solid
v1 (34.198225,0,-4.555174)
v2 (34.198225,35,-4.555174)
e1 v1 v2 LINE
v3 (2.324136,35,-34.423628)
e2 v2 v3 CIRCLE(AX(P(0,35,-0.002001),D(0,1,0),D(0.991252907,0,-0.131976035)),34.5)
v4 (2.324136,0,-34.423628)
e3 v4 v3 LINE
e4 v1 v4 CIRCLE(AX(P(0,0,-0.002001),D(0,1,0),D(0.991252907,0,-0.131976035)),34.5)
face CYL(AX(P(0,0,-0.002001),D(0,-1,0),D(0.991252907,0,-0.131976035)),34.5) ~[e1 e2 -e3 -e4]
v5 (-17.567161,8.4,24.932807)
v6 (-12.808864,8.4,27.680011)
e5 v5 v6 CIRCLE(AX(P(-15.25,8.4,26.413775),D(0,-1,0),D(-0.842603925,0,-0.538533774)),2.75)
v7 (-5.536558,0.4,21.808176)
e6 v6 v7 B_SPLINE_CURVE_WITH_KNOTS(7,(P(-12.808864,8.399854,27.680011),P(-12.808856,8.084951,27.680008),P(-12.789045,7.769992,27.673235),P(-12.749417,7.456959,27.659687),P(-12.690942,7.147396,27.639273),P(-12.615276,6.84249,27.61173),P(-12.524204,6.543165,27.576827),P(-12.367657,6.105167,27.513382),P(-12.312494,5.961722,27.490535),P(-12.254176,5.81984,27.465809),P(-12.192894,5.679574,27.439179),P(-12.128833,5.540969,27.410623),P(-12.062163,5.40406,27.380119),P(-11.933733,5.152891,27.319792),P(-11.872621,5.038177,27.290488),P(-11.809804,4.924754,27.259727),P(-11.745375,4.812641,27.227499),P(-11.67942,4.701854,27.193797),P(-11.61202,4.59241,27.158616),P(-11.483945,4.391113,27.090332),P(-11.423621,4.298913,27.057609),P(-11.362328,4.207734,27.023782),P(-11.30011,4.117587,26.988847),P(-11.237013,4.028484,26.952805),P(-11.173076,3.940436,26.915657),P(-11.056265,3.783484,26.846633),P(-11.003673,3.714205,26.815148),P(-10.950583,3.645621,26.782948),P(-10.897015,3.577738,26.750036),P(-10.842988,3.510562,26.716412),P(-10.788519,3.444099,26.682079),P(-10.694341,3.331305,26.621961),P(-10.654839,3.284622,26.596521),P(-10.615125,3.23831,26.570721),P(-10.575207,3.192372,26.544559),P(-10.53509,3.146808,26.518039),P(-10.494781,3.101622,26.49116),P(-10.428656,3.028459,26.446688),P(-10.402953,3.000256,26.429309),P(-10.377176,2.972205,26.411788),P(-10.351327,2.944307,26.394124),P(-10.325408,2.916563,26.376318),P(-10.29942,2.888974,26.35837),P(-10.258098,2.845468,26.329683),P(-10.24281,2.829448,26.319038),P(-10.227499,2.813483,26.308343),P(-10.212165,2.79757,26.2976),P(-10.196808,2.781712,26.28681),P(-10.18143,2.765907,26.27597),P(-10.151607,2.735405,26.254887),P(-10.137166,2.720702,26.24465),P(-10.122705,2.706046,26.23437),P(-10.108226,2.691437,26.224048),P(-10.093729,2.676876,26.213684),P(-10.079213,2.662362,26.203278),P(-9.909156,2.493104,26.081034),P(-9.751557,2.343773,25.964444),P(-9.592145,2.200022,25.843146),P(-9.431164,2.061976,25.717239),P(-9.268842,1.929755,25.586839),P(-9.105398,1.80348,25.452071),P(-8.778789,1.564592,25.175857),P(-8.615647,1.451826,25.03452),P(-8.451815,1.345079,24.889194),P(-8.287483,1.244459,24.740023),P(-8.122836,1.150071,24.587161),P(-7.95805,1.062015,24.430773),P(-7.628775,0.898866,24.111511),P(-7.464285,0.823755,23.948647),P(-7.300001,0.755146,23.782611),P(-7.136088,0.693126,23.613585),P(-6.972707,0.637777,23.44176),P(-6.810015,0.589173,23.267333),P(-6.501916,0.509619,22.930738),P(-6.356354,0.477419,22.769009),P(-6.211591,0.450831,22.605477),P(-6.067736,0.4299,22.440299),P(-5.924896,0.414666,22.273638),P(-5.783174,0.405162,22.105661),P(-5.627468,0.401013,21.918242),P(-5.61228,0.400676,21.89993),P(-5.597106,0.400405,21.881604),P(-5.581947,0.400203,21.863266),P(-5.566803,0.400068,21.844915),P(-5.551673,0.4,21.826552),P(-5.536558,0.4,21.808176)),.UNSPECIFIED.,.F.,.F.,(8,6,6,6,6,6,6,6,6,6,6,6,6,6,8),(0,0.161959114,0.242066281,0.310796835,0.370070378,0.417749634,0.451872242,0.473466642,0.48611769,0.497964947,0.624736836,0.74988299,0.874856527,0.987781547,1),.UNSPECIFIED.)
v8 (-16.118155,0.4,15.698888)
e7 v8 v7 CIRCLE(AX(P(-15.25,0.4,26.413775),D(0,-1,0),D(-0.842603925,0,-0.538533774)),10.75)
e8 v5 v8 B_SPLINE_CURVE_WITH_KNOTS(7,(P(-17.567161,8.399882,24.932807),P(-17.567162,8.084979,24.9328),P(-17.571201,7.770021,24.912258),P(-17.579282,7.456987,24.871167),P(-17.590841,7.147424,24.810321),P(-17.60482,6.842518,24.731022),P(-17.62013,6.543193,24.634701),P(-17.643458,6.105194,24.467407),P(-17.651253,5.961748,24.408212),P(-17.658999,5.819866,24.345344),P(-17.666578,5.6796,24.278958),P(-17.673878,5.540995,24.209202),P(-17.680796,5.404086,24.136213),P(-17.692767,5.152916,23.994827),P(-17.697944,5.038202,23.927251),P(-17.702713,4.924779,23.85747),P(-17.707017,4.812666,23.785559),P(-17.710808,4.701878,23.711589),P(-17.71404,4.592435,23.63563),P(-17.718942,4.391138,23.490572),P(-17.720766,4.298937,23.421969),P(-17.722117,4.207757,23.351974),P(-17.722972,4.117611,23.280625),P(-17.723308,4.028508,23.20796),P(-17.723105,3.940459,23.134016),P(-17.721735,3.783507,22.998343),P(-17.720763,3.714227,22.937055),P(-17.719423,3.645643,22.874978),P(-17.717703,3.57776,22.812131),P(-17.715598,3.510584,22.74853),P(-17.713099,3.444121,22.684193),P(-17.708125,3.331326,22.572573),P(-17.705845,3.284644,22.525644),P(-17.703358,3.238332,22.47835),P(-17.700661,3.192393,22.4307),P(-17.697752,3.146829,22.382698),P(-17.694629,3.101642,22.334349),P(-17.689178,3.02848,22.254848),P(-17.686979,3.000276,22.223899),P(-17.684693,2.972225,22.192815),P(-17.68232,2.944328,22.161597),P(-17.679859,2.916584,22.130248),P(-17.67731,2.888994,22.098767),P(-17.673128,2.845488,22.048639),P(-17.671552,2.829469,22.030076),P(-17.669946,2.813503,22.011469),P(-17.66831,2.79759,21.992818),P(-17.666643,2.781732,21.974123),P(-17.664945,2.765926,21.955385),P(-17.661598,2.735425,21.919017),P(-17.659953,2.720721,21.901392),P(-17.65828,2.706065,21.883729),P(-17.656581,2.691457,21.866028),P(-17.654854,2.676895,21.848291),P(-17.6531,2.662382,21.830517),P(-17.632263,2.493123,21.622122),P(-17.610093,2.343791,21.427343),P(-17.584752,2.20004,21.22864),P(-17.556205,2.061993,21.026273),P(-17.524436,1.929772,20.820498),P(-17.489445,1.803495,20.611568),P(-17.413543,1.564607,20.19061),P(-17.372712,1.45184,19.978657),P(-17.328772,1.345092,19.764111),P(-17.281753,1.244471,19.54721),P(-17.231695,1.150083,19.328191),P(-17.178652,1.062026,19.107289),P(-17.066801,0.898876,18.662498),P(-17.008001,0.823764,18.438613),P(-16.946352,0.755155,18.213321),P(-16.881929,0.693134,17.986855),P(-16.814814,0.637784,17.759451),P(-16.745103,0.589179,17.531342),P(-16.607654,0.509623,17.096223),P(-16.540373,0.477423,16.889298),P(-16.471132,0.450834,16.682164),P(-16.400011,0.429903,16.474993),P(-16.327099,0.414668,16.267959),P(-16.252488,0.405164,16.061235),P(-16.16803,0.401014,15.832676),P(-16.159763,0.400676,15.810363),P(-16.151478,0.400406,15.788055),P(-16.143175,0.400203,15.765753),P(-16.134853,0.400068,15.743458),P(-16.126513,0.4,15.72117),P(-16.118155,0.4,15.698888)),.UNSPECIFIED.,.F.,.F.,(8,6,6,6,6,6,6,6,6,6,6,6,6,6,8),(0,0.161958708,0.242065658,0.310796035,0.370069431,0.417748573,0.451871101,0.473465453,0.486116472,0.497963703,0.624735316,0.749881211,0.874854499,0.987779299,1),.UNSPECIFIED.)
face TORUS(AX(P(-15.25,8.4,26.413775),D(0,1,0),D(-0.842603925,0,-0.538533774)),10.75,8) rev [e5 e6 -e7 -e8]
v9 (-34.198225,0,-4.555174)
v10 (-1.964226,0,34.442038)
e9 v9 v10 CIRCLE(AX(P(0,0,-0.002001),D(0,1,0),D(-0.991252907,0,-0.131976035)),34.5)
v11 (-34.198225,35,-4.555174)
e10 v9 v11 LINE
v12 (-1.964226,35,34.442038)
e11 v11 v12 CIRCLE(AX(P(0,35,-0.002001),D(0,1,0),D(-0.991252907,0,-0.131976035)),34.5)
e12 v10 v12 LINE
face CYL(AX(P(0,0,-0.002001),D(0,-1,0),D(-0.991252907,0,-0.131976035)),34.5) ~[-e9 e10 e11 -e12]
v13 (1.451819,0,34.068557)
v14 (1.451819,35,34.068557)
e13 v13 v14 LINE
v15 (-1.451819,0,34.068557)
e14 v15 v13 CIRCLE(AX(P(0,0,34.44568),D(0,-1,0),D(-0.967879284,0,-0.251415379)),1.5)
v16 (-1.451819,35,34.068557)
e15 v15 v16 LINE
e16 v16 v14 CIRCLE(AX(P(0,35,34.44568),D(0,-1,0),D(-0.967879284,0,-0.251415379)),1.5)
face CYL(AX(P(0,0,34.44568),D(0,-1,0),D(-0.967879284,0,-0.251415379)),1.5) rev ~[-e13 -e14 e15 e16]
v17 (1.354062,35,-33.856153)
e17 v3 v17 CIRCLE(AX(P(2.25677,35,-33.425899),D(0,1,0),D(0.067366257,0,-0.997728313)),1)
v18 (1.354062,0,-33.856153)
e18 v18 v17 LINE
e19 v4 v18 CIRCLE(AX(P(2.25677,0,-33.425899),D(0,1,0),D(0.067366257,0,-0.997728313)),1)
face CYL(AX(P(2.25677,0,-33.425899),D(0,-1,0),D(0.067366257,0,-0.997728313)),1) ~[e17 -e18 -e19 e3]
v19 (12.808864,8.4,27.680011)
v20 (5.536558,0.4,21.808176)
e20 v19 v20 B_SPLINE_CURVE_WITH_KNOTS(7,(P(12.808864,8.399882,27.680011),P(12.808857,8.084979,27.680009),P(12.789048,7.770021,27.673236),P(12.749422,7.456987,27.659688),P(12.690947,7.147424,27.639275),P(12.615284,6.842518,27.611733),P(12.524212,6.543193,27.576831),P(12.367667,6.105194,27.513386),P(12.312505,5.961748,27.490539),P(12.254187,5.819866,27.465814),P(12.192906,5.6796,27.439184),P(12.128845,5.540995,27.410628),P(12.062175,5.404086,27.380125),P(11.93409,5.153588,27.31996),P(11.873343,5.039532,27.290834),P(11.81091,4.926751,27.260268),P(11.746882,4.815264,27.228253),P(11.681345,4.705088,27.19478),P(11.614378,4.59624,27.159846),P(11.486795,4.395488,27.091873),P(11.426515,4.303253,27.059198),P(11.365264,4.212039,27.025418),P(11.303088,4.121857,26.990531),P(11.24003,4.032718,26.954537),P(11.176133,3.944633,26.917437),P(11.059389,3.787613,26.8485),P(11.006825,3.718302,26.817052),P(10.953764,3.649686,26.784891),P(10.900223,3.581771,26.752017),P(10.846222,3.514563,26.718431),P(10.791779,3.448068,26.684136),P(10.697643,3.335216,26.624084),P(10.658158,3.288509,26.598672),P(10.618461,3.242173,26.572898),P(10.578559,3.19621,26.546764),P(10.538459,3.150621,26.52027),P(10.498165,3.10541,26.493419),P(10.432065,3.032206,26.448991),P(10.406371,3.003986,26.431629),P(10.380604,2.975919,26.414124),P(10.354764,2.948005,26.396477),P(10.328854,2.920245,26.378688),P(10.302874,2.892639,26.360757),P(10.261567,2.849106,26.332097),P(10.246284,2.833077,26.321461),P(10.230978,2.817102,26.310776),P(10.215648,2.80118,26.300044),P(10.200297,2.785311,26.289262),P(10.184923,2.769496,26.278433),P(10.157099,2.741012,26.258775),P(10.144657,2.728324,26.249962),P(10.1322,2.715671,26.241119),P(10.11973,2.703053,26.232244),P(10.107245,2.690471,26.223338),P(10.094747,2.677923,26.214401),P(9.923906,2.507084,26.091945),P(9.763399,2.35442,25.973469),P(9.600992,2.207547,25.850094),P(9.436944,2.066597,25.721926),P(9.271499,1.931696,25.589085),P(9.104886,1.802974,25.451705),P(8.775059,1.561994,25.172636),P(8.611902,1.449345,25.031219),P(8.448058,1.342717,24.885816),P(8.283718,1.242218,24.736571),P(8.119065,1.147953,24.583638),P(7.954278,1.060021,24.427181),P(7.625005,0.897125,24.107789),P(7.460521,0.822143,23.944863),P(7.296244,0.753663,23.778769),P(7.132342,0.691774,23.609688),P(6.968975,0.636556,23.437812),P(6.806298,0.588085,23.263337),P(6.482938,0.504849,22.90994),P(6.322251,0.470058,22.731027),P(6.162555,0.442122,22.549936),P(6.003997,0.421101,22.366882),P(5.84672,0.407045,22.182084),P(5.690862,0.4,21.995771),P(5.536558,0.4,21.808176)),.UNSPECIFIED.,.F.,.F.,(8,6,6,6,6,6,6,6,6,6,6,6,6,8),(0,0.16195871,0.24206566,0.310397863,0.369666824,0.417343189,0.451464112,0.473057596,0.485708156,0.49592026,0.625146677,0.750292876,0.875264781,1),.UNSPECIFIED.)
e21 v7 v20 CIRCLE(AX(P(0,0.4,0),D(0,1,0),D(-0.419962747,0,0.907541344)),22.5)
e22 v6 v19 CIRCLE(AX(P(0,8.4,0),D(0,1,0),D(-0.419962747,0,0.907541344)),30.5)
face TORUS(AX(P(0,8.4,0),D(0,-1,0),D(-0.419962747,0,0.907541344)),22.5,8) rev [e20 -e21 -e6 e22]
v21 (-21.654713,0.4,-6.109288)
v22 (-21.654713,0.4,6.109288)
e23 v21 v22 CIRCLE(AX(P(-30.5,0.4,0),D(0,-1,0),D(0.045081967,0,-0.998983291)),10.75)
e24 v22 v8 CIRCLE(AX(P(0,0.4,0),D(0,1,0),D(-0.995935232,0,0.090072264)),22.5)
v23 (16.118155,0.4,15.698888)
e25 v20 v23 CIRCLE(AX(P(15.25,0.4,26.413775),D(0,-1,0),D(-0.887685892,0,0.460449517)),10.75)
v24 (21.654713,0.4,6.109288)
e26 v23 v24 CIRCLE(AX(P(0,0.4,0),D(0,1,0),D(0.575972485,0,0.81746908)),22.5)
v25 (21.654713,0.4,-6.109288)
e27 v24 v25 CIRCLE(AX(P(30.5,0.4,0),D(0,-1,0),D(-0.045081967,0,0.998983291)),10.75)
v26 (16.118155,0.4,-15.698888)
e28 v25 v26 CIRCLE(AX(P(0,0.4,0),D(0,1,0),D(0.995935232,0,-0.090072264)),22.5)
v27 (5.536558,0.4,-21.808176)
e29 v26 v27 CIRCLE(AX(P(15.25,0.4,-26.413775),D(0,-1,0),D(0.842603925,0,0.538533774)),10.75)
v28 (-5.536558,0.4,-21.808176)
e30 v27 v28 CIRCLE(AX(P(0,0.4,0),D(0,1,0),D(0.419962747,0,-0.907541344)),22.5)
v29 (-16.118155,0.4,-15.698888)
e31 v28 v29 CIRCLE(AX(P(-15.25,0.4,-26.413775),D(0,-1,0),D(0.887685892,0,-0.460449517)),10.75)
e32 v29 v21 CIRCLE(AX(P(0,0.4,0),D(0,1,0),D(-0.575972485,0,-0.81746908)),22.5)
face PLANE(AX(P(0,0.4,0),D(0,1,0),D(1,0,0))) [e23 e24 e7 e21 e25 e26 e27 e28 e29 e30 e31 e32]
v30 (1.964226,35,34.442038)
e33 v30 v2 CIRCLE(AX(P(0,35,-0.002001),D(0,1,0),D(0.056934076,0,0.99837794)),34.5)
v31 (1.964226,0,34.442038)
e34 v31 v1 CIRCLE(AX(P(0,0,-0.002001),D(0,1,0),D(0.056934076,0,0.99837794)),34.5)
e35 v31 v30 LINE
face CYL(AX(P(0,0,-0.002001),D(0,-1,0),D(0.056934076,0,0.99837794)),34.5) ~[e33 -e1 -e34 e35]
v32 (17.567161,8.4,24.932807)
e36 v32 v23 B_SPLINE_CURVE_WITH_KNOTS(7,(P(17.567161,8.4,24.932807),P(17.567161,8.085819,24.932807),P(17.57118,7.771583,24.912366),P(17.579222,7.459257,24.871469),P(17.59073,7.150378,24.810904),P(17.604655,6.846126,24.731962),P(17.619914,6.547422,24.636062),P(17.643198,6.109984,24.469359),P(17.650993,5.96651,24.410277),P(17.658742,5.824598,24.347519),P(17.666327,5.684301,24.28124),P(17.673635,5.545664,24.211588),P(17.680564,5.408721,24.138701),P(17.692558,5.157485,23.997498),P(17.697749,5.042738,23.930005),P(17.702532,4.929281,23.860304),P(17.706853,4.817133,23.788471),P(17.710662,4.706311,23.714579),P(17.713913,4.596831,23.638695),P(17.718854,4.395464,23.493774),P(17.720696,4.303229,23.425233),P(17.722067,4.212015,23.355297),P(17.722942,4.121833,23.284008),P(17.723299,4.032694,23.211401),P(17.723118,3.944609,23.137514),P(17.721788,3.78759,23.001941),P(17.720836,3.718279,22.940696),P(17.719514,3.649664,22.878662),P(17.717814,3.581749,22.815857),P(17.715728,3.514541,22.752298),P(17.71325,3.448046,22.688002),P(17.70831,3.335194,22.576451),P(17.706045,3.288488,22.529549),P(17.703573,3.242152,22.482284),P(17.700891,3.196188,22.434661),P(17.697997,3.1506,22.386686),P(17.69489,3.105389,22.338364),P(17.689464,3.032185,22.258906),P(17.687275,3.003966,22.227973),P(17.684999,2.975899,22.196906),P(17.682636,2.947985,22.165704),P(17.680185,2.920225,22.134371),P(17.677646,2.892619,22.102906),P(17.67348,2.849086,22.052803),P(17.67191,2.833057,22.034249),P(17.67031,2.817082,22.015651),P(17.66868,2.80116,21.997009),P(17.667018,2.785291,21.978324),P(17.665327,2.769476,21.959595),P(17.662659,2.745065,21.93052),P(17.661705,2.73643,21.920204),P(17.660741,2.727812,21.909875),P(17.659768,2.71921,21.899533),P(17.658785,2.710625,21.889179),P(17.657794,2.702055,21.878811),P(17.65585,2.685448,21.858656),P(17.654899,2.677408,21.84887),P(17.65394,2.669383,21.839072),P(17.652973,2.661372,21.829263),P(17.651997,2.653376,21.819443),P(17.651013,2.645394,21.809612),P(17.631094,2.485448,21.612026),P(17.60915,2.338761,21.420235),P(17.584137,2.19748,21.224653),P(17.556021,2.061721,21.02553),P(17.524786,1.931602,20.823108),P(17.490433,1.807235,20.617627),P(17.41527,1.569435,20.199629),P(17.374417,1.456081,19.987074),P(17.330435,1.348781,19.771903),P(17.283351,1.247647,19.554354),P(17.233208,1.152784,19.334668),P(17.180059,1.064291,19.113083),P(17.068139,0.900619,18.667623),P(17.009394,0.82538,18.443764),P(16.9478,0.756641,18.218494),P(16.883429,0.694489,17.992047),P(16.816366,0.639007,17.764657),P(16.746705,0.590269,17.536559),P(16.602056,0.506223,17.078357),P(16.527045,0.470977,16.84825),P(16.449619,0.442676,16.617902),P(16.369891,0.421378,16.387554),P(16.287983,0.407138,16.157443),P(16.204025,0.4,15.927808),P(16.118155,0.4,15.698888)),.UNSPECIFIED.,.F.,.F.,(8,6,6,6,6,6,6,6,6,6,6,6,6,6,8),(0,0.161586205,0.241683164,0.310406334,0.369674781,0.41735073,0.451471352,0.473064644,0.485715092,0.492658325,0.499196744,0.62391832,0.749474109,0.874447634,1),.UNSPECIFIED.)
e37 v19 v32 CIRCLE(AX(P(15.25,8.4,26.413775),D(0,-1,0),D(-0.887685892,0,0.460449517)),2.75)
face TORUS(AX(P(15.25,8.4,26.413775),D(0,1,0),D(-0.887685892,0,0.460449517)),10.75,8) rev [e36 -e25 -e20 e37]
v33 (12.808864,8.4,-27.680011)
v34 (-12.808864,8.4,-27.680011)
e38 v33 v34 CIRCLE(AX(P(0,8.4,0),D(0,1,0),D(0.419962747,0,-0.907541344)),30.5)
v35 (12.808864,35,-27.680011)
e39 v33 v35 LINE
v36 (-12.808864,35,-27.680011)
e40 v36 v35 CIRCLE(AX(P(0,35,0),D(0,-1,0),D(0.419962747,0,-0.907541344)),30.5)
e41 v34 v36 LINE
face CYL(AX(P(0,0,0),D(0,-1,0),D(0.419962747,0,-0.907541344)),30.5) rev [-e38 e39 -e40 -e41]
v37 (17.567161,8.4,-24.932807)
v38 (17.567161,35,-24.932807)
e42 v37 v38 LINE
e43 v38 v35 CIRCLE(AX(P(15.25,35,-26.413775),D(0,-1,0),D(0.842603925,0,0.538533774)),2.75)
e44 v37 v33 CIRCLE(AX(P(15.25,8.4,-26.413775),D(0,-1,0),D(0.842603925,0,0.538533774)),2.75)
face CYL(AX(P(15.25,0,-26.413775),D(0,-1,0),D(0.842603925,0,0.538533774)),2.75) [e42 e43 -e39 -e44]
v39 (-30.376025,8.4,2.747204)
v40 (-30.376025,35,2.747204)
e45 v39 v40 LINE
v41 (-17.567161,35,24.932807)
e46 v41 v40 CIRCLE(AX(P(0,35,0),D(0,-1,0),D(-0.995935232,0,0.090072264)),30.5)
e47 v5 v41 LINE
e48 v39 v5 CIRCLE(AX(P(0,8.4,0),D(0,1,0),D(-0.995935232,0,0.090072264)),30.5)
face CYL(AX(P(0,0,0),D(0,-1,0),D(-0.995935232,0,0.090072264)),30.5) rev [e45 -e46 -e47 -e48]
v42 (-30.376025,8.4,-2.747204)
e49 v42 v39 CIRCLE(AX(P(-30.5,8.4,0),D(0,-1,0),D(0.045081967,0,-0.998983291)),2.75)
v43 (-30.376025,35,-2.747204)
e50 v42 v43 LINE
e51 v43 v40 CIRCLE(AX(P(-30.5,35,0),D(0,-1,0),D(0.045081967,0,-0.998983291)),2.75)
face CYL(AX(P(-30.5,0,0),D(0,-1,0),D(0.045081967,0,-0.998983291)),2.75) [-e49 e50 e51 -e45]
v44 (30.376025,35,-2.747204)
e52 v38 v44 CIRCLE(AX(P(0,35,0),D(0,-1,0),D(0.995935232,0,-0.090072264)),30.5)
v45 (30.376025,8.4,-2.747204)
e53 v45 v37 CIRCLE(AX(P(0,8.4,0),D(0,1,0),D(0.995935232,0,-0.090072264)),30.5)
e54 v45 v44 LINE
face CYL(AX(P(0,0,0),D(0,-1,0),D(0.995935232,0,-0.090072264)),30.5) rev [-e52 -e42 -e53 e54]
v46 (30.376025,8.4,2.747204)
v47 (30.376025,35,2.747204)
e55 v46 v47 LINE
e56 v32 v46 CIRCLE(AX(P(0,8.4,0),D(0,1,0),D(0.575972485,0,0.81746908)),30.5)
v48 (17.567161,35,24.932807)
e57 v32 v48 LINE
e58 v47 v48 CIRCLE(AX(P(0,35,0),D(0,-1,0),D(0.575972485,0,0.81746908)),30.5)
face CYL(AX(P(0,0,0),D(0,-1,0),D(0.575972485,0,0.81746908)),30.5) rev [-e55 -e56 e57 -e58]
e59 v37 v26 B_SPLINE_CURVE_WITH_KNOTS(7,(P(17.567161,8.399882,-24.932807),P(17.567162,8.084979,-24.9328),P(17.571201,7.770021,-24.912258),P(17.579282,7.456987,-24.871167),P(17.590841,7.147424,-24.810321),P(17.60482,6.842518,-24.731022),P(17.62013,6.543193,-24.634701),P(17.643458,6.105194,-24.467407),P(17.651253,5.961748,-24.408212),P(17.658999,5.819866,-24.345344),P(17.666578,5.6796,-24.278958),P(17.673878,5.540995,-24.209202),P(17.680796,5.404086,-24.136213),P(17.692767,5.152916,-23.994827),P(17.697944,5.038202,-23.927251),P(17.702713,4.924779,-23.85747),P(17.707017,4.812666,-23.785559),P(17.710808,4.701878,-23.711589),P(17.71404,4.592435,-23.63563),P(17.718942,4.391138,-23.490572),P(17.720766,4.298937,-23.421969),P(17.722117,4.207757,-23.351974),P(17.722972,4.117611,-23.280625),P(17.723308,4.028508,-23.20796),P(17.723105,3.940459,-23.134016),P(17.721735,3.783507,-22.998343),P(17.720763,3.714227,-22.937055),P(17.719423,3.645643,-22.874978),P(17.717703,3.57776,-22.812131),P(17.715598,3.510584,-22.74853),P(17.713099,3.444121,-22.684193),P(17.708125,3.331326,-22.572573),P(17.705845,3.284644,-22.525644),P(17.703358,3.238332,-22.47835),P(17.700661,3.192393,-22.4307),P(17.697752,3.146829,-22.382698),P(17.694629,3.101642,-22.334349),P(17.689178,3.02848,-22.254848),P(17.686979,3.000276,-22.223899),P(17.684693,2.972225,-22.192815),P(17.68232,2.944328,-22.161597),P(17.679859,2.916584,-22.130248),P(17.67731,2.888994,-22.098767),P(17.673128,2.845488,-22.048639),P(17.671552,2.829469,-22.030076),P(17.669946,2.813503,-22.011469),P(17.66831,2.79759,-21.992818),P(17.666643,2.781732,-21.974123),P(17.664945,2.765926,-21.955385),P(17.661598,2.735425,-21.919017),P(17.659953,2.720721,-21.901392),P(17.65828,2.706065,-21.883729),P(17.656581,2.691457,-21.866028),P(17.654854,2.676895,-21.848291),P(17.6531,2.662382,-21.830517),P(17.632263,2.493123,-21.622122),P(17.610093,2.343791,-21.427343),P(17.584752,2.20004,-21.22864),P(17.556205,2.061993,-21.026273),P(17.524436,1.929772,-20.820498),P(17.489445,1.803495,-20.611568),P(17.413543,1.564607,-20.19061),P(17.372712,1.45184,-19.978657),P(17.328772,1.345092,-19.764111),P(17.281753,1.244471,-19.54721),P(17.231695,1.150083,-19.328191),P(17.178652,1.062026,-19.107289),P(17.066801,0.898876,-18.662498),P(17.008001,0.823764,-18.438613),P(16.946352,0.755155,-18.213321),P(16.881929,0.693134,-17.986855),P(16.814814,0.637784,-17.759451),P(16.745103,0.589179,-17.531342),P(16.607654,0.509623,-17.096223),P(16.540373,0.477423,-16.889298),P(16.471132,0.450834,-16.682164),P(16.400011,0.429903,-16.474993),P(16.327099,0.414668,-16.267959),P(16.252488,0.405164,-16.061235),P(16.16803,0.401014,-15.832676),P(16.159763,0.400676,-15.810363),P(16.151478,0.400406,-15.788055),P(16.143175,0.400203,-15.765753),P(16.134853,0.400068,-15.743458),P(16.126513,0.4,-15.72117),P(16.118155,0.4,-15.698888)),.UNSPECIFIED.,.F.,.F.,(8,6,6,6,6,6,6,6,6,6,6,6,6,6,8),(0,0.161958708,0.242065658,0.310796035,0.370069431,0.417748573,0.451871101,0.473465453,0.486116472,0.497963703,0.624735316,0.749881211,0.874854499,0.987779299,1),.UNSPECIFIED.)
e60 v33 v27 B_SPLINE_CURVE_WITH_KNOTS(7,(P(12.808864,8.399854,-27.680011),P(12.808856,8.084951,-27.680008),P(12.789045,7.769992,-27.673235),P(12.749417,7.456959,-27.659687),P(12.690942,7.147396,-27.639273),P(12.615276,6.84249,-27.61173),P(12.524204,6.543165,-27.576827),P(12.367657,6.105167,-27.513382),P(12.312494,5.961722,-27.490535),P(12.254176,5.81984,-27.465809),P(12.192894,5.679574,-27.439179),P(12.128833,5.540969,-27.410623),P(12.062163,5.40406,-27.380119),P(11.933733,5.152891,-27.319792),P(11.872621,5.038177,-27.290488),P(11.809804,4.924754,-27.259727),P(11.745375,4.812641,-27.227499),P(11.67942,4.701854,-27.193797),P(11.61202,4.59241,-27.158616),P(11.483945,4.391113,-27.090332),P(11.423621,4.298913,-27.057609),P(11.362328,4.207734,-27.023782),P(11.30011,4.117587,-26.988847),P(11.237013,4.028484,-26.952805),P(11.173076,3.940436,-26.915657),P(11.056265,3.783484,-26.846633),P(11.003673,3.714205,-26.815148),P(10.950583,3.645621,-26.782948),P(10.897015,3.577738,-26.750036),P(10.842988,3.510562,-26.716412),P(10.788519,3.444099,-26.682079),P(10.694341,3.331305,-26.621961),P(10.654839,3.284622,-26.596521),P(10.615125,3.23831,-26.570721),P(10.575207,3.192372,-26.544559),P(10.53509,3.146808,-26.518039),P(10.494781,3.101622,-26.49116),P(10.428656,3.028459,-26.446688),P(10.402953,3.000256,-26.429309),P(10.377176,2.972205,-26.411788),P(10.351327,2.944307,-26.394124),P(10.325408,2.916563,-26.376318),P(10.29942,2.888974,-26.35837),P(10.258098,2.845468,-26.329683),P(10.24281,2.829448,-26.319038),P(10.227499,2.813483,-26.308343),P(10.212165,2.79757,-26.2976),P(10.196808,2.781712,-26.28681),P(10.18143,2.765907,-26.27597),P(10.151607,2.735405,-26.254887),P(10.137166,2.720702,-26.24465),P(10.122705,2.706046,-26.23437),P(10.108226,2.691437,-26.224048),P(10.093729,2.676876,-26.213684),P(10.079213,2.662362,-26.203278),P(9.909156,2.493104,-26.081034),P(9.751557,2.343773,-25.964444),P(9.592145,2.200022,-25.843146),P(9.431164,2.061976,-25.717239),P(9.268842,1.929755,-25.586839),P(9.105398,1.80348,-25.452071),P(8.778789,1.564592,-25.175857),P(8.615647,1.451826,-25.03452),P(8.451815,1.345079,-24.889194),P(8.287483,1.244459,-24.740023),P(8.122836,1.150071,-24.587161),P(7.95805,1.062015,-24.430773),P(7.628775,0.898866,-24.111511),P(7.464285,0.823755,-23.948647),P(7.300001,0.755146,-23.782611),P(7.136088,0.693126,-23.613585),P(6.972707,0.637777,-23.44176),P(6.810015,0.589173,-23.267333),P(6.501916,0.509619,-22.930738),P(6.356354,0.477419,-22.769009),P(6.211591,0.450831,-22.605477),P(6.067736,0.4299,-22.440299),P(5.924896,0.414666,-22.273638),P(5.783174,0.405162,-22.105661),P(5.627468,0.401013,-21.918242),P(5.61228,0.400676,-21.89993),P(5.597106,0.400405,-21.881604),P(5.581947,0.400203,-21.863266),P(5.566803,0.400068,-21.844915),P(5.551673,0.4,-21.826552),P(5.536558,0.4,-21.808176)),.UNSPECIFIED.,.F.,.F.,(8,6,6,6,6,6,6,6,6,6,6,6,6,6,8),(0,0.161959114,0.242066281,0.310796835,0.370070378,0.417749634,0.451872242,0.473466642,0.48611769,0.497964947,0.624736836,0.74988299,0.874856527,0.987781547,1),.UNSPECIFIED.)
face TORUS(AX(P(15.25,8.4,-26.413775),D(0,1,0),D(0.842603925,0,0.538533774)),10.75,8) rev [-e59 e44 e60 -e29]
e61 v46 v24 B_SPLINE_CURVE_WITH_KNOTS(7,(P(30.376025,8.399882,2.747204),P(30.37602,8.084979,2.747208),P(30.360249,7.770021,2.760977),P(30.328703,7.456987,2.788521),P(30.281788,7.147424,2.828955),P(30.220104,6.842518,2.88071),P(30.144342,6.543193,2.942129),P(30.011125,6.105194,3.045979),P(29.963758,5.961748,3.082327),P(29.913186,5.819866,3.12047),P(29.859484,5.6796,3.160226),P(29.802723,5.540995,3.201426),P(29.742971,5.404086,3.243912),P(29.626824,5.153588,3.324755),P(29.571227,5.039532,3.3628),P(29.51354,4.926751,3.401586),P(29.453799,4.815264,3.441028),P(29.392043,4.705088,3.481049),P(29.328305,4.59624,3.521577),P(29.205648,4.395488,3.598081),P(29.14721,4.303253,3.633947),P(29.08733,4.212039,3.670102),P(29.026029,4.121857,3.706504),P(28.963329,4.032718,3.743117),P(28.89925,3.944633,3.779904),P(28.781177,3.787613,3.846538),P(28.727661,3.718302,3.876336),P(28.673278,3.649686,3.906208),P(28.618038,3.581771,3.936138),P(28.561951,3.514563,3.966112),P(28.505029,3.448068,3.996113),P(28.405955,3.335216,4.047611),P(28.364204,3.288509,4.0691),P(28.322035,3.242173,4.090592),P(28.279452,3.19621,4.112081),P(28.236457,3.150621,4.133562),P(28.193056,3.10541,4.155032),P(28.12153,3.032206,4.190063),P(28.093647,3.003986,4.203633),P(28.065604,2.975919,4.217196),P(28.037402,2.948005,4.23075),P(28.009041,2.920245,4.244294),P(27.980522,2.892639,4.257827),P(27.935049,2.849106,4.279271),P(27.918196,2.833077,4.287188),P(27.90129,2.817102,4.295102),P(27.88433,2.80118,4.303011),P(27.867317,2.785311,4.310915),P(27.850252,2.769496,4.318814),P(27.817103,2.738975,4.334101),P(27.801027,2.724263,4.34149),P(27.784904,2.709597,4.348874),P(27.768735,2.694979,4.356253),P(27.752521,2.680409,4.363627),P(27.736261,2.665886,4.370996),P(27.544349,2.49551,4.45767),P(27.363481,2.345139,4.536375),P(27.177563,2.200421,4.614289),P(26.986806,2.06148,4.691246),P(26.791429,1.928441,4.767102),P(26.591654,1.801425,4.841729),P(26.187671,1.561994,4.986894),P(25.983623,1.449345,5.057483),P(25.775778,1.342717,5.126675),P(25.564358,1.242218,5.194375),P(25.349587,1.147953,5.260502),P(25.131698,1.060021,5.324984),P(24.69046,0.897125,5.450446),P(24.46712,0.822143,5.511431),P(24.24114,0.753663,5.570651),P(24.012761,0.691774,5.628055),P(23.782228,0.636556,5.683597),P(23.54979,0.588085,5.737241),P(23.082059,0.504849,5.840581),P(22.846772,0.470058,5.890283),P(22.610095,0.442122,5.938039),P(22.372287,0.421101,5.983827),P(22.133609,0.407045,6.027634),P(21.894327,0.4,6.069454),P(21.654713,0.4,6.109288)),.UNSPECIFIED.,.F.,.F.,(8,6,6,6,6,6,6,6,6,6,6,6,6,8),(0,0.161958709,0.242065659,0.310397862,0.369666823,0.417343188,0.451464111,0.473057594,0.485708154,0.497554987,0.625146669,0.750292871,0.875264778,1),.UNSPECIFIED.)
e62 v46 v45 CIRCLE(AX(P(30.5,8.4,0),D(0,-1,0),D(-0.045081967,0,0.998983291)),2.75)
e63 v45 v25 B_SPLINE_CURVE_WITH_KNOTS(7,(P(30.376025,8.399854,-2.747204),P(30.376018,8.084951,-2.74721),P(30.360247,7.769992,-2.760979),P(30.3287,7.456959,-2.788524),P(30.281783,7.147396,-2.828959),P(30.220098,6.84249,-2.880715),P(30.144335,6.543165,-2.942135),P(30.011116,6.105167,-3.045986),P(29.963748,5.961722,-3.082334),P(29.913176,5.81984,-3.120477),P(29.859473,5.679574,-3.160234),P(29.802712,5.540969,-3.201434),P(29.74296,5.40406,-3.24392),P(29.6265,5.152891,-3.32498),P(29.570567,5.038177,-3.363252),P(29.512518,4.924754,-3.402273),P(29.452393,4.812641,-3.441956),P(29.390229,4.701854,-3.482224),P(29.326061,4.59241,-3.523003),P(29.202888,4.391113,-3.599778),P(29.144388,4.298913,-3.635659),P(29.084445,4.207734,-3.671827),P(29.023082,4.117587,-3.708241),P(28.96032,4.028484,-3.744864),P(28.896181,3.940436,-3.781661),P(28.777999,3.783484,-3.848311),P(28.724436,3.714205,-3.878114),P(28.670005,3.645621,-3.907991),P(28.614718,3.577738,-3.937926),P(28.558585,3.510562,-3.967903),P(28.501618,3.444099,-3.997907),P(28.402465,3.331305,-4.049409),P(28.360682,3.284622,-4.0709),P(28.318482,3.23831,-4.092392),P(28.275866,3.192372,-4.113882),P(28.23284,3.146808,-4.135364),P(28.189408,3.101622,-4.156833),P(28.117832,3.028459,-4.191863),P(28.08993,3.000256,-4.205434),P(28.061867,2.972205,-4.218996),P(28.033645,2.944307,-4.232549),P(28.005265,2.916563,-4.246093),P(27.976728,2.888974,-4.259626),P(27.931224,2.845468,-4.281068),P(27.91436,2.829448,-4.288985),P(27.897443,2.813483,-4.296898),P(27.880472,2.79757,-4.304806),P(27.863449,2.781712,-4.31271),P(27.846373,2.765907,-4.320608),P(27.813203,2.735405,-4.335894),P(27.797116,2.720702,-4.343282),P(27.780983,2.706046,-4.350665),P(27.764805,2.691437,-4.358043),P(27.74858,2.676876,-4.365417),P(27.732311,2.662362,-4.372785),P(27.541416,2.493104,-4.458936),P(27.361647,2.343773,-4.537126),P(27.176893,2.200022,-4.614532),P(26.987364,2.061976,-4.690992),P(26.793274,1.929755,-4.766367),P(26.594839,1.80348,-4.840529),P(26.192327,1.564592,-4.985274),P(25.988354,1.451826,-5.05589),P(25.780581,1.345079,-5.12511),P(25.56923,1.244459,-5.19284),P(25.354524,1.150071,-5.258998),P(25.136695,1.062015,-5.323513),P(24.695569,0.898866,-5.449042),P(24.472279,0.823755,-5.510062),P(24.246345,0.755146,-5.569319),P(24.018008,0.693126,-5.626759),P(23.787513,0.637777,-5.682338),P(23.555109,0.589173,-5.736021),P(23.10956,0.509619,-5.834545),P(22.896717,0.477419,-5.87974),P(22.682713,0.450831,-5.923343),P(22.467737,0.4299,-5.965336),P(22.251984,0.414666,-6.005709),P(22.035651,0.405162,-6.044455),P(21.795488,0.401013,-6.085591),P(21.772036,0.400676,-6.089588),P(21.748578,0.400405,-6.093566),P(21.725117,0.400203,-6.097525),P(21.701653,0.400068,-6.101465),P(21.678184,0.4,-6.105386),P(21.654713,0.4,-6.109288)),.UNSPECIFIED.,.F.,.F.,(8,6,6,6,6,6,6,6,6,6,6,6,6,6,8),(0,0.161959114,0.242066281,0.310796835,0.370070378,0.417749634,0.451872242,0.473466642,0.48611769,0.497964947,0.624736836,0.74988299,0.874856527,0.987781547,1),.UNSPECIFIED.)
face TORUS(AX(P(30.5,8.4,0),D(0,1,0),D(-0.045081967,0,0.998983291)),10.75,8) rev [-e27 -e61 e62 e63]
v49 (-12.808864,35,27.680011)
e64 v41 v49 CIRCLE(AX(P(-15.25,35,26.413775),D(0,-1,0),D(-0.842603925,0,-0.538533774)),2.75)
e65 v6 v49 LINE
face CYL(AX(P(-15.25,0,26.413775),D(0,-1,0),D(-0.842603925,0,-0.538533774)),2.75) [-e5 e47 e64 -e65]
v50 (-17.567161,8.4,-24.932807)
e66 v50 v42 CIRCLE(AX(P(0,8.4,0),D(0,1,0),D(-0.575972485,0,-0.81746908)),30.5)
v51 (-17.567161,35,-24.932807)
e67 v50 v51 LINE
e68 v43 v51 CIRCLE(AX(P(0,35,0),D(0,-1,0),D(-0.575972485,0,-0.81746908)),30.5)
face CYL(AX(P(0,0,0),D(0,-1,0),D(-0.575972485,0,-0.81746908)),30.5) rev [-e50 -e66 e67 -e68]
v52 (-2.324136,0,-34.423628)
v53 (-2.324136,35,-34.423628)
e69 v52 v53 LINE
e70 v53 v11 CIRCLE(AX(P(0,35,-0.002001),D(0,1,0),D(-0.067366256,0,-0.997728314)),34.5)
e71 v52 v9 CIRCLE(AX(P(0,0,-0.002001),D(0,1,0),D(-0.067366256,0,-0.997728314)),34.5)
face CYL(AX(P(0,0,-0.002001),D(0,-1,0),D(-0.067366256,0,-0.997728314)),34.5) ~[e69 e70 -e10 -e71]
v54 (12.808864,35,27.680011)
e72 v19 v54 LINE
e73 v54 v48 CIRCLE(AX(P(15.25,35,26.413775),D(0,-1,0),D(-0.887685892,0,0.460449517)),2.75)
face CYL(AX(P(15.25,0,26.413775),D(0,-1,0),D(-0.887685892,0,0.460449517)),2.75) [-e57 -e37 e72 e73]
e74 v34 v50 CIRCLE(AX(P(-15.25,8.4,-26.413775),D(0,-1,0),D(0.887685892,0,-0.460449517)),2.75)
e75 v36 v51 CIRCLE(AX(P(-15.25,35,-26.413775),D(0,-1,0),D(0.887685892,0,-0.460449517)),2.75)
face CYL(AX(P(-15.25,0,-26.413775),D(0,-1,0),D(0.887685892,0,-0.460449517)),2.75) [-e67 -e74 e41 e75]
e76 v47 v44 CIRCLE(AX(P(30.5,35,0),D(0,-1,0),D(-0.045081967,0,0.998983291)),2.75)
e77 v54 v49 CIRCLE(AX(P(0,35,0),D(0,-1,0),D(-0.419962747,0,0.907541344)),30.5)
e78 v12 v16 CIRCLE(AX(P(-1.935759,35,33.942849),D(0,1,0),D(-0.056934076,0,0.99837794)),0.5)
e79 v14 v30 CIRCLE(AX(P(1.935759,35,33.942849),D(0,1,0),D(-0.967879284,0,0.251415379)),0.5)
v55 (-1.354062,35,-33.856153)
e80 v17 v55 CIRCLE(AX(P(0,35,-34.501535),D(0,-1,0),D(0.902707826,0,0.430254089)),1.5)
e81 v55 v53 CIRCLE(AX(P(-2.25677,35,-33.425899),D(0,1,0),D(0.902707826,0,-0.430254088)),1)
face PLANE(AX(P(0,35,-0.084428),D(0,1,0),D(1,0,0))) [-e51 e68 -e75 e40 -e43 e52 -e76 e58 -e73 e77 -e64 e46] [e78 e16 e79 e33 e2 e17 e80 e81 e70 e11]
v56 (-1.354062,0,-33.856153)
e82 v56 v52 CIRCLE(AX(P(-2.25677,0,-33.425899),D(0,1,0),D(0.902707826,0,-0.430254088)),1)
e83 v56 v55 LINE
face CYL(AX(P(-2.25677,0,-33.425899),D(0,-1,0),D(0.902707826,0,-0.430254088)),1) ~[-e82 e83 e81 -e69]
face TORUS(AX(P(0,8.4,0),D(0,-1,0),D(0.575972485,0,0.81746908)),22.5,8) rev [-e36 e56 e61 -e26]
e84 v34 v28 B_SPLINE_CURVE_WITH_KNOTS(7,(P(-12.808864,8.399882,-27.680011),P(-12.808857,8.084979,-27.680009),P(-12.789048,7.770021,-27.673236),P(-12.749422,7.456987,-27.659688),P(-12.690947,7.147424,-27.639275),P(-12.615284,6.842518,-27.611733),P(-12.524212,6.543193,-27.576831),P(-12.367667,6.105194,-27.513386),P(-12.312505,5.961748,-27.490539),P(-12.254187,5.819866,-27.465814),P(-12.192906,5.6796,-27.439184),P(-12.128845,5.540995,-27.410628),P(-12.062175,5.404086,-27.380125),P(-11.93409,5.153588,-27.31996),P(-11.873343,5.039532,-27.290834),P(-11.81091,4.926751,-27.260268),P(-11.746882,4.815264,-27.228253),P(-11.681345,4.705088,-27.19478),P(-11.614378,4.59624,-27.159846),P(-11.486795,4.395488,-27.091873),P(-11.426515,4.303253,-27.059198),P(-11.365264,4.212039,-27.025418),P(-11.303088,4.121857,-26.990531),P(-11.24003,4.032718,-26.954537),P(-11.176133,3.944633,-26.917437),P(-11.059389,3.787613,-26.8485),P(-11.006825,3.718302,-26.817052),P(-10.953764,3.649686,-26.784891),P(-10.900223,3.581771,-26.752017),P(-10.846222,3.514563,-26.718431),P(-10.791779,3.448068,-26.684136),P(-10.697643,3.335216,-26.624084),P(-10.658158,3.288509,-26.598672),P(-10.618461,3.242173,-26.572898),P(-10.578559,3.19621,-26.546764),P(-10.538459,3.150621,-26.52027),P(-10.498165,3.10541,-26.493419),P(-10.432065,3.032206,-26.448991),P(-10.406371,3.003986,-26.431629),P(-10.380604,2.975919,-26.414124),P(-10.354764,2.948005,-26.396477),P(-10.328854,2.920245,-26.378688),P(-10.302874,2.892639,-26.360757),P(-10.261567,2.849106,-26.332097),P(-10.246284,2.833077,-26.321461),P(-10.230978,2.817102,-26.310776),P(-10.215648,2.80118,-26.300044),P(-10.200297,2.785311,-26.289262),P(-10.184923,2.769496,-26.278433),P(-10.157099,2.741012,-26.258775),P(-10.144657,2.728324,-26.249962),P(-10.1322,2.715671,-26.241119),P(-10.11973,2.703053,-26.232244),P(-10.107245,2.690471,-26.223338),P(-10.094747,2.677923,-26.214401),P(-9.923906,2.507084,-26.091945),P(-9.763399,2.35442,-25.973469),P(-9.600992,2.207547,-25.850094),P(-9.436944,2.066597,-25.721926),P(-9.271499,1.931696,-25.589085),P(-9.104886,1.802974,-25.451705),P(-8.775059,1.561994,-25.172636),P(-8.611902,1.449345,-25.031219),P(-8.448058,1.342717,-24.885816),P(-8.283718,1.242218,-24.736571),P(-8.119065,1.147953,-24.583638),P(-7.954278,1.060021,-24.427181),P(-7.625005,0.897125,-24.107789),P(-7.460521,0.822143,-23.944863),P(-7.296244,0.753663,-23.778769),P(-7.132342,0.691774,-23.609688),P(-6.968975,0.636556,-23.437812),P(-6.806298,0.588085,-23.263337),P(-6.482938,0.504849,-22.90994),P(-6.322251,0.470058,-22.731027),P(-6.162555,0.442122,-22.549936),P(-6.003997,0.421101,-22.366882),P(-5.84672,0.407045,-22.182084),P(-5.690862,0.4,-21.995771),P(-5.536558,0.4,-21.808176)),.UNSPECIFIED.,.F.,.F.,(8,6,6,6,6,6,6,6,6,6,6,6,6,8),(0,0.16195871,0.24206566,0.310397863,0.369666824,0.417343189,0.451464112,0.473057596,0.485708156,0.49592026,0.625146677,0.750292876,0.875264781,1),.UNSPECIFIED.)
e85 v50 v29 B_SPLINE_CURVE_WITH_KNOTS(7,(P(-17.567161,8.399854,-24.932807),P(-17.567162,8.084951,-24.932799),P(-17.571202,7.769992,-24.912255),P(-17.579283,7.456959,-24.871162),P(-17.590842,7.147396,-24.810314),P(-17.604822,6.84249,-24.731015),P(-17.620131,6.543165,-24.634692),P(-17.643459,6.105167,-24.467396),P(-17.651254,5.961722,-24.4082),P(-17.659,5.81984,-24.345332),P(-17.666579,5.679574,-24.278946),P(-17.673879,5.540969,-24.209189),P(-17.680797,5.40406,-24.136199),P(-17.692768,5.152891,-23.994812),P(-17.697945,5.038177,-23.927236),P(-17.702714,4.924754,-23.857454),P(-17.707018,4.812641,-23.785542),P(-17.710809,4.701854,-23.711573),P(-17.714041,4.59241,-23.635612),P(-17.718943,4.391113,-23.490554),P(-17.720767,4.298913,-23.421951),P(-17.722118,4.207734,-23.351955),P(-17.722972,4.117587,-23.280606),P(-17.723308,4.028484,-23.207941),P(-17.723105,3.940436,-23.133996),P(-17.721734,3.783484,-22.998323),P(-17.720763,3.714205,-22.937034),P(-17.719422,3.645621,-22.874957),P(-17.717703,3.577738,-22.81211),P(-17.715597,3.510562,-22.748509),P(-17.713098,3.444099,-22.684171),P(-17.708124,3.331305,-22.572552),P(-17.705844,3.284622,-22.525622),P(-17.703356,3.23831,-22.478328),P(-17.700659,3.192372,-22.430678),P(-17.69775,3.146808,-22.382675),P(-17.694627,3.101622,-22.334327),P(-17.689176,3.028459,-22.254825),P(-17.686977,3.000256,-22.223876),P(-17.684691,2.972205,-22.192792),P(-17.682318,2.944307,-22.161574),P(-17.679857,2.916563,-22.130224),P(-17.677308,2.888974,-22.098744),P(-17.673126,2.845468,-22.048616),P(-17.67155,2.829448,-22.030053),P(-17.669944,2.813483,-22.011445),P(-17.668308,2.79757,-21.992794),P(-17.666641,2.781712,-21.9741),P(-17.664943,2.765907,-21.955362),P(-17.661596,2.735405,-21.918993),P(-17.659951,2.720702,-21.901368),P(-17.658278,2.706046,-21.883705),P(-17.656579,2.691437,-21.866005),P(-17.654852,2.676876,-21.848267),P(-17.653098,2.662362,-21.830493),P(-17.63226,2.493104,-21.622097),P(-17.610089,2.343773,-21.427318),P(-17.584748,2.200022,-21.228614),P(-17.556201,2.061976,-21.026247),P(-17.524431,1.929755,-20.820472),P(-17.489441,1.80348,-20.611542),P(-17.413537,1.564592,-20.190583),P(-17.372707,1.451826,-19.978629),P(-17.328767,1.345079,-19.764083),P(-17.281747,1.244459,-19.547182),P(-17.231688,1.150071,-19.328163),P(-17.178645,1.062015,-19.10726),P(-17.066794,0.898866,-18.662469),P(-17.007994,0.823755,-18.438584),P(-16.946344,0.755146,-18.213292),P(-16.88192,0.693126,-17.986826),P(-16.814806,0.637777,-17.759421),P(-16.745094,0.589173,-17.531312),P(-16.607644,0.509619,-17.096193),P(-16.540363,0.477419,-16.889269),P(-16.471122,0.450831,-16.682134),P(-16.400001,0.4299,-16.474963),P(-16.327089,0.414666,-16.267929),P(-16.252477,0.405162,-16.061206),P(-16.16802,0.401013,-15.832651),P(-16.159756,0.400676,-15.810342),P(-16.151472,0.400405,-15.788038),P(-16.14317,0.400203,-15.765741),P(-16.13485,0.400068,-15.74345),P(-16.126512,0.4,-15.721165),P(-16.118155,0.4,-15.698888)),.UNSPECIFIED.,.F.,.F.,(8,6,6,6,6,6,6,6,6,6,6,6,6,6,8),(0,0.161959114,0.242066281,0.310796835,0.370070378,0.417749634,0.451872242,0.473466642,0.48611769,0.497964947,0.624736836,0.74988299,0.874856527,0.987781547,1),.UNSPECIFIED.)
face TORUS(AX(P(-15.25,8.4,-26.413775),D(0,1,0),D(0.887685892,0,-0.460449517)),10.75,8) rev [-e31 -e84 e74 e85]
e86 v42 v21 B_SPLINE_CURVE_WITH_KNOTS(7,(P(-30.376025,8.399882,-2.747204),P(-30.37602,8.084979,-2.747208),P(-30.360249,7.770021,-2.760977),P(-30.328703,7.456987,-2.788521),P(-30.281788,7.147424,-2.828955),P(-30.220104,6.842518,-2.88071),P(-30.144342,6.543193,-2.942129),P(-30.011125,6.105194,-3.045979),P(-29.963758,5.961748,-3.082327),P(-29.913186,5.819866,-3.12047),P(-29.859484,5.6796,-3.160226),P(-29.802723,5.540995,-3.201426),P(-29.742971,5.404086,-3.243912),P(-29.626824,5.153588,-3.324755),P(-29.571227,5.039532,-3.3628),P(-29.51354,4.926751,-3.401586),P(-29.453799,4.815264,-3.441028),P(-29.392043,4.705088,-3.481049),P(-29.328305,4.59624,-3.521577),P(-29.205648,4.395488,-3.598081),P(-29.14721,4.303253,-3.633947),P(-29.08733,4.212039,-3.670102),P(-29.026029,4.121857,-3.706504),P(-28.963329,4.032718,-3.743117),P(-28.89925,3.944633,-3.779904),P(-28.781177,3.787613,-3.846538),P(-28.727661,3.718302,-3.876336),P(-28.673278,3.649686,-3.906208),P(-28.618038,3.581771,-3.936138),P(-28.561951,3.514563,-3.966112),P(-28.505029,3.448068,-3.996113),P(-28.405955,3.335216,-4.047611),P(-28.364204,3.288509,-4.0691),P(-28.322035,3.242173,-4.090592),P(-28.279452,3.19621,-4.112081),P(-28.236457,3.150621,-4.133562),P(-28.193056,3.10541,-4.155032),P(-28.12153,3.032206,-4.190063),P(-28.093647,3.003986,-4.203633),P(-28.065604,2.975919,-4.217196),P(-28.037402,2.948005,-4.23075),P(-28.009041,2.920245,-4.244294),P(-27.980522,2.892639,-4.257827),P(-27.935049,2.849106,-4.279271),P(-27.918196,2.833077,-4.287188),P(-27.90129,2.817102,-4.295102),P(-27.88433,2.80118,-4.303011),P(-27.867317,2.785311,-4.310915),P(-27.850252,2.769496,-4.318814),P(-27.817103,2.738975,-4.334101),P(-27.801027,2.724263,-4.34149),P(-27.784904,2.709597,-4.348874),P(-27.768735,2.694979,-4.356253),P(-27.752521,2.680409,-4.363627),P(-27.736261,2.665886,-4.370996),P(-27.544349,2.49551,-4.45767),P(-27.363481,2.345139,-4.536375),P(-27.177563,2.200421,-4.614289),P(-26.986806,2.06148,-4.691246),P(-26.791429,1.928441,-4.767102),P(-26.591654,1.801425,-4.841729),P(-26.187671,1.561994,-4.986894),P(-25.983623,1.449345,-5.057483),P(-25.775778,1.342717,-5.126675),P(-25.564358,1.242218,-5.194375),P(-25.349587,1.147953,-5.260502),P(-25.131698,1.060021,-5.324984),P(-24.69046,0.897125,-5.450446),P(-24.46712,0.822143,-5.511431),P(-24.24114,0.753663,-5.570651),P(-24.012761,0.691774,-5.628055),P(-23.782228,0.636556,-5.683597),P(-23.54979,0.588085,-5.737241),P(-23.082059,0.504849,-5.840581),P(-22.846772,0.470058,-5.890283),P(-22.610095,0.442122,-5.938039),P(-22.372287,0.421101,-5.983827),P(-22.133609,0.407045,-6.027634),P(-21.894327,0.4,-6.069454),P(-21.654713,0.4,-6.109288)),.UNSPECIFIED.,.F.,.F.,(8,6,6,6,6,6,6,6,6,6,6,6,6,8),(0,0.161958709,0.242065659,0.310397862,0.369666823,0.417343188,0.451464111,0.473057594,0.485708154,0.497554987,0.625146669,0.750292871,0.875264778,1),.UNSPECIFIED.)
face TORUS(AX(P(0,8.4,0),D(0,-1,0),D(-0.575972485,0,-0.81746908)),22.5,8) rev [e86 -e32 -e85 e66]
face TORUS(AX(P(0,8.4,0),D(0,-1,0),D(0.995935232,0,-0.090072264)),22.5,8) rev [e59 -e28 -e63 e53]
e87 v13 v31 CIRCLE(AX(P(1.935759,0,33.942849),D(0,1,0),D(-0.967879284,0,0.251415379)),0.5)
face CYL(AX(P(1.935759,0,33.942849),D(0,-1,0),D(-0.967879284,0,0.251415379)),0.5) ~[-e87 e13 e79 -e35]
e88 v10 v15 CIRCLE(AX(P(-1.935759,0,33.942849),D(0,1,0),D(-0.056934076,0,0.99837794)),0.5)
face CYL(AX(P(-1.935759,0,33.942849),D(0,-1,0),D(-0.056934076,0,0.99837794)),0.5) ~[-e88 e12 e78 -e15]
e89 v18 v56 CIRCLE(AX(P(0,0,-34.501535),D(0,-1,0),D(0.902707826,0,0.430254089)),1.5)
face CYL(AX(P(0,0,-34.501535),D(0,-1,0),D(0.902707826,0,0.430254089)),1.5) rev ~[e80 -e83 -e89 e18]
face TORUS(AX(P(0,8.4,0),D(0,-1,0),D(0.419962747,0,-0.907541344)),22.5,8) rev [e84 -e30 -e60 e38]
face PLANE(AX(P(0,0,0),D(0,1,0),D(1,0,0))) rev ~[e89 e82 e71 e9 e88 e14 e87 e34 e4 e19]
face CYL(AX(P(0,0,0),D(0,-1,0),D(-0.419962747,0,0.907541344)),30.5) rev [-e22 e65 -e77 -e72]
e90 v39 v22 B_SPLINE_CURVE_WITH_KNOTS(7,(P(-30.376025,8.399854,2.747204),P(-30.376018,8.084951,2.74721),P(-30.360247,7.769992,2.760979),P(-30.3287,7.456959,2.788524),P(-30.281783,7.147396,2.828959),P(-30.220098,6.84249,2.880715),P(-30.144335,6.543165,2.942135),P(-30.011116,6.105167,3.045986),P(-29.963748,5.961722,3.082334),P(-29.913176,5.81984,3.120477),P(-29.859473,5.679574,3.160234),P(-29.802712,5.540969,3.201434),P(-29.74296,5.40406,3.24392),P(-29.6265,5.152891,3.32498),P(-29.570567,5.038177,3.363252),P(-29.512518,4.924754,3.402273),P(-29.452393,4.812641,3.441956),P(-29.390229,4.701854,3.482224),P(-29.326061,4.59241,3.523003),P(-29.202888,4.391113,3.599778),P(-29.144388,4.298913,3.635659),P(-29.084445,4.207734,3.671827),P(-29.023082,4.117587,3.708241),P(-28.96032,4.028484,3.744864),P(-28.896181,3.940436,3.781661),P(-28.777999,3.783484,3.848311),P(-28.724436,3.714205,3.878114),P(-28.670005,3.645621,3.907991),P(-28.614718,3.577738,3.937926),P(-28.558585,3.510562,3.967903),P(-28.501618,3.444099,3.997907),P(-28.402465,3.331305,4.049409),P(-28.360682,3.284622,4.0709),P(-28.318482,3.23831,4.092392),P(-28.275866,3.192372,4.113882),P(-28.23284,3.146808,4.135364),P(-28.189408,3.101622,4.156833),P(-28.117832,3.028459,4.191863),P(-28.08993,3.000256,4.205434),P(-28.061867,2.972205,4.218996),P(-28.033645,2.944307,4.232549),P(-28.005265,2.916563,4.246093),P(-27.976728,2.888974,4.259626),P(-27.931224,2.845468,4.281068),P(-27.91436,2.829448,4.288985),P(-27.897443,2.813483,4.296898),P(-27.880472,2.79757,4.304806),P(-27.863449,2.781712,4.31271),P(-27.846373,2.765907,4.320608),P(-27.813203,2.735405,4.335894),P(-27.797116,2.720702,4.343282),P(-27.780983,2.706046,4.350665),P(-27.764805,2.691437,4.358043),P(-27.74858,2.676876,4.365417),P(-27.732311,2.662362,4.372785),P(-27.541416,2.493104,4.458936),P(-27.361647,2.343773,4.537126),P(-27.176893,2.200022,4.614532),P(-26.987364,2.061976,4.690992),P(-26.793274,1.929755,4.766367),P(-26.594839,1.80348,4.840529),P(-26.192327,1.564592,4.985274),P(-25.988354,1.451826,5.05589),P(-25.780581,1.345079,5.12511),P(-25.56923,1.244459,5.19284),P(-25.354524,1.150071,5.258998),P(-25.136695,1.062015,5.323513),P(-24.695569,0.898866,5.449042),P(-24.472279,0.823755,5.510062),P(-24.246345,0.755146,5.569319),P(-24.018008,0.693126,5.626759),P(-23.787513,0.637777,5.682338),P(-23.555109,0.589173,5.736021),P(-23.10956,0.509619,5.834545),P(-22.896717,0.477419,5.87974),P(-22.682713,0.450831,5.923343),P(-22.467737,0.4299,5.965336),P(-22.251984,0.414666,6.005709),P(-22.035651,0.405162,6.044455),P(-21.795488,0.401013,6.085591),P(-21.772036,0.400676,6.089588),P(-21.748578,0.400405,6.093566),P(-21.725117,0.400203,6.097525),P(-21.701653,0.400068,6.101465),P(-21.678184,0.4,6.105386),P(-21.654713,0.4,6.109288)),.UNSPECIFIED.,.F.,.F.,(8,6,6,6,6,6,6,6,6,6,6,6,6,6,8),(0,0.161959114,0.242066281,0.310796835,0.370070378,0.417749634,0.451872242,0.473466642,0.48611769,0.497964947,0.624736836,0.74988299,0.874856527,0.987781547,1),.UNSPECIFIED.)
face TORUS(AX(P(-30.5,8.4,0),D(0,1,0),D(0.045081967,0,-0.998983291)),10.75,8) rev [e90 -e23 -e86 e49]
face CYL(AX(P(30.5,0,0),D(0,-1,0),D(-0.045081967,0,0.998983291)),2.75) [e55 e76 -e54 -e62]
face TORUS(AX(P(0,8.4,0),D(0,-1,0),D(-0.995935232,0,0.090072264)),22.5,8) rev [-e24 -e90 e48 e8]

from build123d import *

# Parameters (mm, degrees)
BOSS_EXTRUDE1_DEPTH = 35
CUT_EXTRUDE2_DEPTH  = 36
BOSS_EXTRUDE2_DEPTH = 0.4
FILLET1_R           = 8


with BuildPart() as part:
    # Sketch1 → Boss-Extrude1 (new body)
    with BuildSketch(Plane(origin=(0, 0, 0), x_dir=(1, 0, 0), z_dir=(0, 1, 0))):
        with BuildLine():
            ThreePointArc((1.451818925, -34.068556857), (1.641248992, -34.346908706), (1.964225605, -34.442038138))
            ThreePointArc((1.964225605, -34.442038138), (26.591847487, -21.978073076), (34.198225299, 4.555174015))
            ThreePointArc((34.198225299, 4.555174015), (23.590291339, 25.176355888), (2.324135821, 34.423627607))
            ThreePointArc((2.324135821, 34.423627607), (1.751838249, 34.289058819), (1.354061739, 33.856153382))
            ThreePointArc((1.354061739, 33.856153382), (0, 33.001534515), (-1.354061739, 33.856153382))
            ThreePointArc((-1.354061739, 33.856153382), (-1.751838249, 34.289058819), (-2.324135821, 34.423627607))
            ThreePointArc((-2.324135821, 34.423627607), (-23.590291339, 25.176355888), (-34.198225299, 4.555174015))
            ThreePointArc((-34.198225299, 4.555174015), (-26.591847487, -21.978073076), (-1.964225605, -34.442038138))
            ThreePointArc((-1.964225605, -34.442038138), (-1.641248992, -34.346908706), (-1.451818925, -34.068556857))
            ThreePointArc((-1.451818925, -34.068556857), (0, -32.945679925), (1.451818925, -34.068556857))
        make_face()
        with BuildLine():
            Line((-2.417, 3.787737139), (0, 3.787737139))
            Line((0, 3.787737139), (2.417, 3.787737139))
            ThreePointArc((2.417, 3.787737139), (0, -4.489512172), (-2.417, 3.787737139))
        make_face(mode=Mode.SUBTRACT)
    extrude(amount=BOSS_EXTRUDE1_DEPTH)

    # Sketch2 → Cut-Extrude2 (cut, through all)
    with BuildSketch(Plane(origin=(0, 0, 0), x_dir=(1, 0, 0), z_dir=(0, 1, 0))):
        with BuildLine():
            ThreePointArc((-17.567160793, 24.932806936), (-26.413774815, 15.25), (-30.37602459, 2.747204051))
            ThreePointArc((-30.37602459, 2.747204051), (-27.75, 0), (-30.37602459, -2.747204051))
            ThreePointArc((-30.37602459, -2.747204051), (-26.413774815, -15.25), (-17.567160793, -24.932806936))
            ThreePointArc((-17.567160793, -24.932806936), (-13.875, -24.032204955), (-12.808863798, -27.680010987))
            ThreePointArc((-12.808863798, -27.680010987), (0, -30.5), (12.808863798, -27.680010987))
            ThreePointArc((12.808863798, -27.680010987), (13.875, -24.032204955), (17.567160793, -24.932806936))
            ThreePointArc((17.567160793, -24.932806936), (26.413774815, -15.25), (30.37602459, -2.747204051))
            ThreePointArc((30.37602459, -2.747204051), (27.75, 0), (30.37602459, 2.747204051))
            ThreePointArc((30.37602459, 2.747204051), (26.413774815, 15.25), (17.567160793, 24.932806936))
            ThreePointArc((17.567160793, 24.932806936), (13.875, 24.032204955), (12.808863798, 27.680010987))
            ThreePointArc((12.808863798, 27.680010987), (0, 30.5), (-12.808863798, 27.680010987))
            ThreePointArc((-12.808863798, 27.680010987), (-13.875, 24.032204955), (-17.567160793, 24.932806936))
        make_face()
    extrude(amount=CUT_EXTRUDE2_DEPTH, mode=Mode.SUBTRACT)

    # Sketch2<2> → Boss-Extrude2 (add)
    with BuildSketch(Plane(origin=(0, 0, 0), x_dir=(1, 0, 0), z_dir=(0, 1, 0))):
        with BuildLine():
            ThreePointArc((-17.567160793, 24.932806936), (-26.413774815, 15.25), (-30.37602459, 2.747204051))
            ThreePointArc((-30.37602459, 2.747204051), (-27.75, 0), (-30.37602459, -2.747204051))
            ThreePointArc((-30.37602459, -2.747204051), (-26.413774815, -15.25), (-17.567160793, -24.932806936))
            ThreePointArc((-17.567160793, -24.932806936), (-13.875, -24.032204955), (-12.808863798, -27.680010987))
            ThreePointArc((-12.808863798, -27.680010987), (0, -30.5), (12.808863798, -27.680010987))
            ThreePointArc((12.808863798, -27.680010987), (13.875, -24.032204955), (17.567160793, -24.932806936))
            ThreePointArc((17.567160793, -24.932806936), (26.413774815, -15.25), (30.37602459, -2.747204051))
            ThreePointArc((30.37602459, -2.747204051), (27.75, 0), (30.37602459, 2.747204051))
            ThreePointArc((30.37602459, 2.747204051), (26.413774815, 15.25), (17.567160793, 24.932806936))
            ThreePointArc((17.567160793, 24.932806936), (13.875, 24.032204955), (12.808863798, 27.680010987))
            ThreePointArc((12.808863798, 27.680010987), (0, 30.5), (-12.808863798, 27.680010987))
            ThreePointArc((-12.808863798, 27.680010987), (-13.875, 24.032204955), (-17.567160793, 24.932806936))
        make_face()
    extrude(amount=BOSS_EXTRUDE2_DEPTH)

    # Fillet1
    fillet1_edges = [part.edges().sort_by_distance(p)[0] for p in [
        (26.413774815, 0.4, 15.25),
        (27.75, 0.4, 0),
        (26.413774815, 0.4, -15.25),
        (13.875, 0.4, -24.032204955),
        (0, 0.4, -30.5),
        (-13.875, 0.4, -24.032204955),
        (-26.413774815, 0.4, -15.25),
        (-27.75, 0.4, 0),
        (-26.413774815, 0.4, 15.25),
        (-13.875, 0.4, 24.032204955),
        (0, 0.4, 30.5),
        (13.875, 0.4, 24.032204955),
    ]]
    fillet(fillet1_edges, radius=FILLET1_R)


solid = part.part
